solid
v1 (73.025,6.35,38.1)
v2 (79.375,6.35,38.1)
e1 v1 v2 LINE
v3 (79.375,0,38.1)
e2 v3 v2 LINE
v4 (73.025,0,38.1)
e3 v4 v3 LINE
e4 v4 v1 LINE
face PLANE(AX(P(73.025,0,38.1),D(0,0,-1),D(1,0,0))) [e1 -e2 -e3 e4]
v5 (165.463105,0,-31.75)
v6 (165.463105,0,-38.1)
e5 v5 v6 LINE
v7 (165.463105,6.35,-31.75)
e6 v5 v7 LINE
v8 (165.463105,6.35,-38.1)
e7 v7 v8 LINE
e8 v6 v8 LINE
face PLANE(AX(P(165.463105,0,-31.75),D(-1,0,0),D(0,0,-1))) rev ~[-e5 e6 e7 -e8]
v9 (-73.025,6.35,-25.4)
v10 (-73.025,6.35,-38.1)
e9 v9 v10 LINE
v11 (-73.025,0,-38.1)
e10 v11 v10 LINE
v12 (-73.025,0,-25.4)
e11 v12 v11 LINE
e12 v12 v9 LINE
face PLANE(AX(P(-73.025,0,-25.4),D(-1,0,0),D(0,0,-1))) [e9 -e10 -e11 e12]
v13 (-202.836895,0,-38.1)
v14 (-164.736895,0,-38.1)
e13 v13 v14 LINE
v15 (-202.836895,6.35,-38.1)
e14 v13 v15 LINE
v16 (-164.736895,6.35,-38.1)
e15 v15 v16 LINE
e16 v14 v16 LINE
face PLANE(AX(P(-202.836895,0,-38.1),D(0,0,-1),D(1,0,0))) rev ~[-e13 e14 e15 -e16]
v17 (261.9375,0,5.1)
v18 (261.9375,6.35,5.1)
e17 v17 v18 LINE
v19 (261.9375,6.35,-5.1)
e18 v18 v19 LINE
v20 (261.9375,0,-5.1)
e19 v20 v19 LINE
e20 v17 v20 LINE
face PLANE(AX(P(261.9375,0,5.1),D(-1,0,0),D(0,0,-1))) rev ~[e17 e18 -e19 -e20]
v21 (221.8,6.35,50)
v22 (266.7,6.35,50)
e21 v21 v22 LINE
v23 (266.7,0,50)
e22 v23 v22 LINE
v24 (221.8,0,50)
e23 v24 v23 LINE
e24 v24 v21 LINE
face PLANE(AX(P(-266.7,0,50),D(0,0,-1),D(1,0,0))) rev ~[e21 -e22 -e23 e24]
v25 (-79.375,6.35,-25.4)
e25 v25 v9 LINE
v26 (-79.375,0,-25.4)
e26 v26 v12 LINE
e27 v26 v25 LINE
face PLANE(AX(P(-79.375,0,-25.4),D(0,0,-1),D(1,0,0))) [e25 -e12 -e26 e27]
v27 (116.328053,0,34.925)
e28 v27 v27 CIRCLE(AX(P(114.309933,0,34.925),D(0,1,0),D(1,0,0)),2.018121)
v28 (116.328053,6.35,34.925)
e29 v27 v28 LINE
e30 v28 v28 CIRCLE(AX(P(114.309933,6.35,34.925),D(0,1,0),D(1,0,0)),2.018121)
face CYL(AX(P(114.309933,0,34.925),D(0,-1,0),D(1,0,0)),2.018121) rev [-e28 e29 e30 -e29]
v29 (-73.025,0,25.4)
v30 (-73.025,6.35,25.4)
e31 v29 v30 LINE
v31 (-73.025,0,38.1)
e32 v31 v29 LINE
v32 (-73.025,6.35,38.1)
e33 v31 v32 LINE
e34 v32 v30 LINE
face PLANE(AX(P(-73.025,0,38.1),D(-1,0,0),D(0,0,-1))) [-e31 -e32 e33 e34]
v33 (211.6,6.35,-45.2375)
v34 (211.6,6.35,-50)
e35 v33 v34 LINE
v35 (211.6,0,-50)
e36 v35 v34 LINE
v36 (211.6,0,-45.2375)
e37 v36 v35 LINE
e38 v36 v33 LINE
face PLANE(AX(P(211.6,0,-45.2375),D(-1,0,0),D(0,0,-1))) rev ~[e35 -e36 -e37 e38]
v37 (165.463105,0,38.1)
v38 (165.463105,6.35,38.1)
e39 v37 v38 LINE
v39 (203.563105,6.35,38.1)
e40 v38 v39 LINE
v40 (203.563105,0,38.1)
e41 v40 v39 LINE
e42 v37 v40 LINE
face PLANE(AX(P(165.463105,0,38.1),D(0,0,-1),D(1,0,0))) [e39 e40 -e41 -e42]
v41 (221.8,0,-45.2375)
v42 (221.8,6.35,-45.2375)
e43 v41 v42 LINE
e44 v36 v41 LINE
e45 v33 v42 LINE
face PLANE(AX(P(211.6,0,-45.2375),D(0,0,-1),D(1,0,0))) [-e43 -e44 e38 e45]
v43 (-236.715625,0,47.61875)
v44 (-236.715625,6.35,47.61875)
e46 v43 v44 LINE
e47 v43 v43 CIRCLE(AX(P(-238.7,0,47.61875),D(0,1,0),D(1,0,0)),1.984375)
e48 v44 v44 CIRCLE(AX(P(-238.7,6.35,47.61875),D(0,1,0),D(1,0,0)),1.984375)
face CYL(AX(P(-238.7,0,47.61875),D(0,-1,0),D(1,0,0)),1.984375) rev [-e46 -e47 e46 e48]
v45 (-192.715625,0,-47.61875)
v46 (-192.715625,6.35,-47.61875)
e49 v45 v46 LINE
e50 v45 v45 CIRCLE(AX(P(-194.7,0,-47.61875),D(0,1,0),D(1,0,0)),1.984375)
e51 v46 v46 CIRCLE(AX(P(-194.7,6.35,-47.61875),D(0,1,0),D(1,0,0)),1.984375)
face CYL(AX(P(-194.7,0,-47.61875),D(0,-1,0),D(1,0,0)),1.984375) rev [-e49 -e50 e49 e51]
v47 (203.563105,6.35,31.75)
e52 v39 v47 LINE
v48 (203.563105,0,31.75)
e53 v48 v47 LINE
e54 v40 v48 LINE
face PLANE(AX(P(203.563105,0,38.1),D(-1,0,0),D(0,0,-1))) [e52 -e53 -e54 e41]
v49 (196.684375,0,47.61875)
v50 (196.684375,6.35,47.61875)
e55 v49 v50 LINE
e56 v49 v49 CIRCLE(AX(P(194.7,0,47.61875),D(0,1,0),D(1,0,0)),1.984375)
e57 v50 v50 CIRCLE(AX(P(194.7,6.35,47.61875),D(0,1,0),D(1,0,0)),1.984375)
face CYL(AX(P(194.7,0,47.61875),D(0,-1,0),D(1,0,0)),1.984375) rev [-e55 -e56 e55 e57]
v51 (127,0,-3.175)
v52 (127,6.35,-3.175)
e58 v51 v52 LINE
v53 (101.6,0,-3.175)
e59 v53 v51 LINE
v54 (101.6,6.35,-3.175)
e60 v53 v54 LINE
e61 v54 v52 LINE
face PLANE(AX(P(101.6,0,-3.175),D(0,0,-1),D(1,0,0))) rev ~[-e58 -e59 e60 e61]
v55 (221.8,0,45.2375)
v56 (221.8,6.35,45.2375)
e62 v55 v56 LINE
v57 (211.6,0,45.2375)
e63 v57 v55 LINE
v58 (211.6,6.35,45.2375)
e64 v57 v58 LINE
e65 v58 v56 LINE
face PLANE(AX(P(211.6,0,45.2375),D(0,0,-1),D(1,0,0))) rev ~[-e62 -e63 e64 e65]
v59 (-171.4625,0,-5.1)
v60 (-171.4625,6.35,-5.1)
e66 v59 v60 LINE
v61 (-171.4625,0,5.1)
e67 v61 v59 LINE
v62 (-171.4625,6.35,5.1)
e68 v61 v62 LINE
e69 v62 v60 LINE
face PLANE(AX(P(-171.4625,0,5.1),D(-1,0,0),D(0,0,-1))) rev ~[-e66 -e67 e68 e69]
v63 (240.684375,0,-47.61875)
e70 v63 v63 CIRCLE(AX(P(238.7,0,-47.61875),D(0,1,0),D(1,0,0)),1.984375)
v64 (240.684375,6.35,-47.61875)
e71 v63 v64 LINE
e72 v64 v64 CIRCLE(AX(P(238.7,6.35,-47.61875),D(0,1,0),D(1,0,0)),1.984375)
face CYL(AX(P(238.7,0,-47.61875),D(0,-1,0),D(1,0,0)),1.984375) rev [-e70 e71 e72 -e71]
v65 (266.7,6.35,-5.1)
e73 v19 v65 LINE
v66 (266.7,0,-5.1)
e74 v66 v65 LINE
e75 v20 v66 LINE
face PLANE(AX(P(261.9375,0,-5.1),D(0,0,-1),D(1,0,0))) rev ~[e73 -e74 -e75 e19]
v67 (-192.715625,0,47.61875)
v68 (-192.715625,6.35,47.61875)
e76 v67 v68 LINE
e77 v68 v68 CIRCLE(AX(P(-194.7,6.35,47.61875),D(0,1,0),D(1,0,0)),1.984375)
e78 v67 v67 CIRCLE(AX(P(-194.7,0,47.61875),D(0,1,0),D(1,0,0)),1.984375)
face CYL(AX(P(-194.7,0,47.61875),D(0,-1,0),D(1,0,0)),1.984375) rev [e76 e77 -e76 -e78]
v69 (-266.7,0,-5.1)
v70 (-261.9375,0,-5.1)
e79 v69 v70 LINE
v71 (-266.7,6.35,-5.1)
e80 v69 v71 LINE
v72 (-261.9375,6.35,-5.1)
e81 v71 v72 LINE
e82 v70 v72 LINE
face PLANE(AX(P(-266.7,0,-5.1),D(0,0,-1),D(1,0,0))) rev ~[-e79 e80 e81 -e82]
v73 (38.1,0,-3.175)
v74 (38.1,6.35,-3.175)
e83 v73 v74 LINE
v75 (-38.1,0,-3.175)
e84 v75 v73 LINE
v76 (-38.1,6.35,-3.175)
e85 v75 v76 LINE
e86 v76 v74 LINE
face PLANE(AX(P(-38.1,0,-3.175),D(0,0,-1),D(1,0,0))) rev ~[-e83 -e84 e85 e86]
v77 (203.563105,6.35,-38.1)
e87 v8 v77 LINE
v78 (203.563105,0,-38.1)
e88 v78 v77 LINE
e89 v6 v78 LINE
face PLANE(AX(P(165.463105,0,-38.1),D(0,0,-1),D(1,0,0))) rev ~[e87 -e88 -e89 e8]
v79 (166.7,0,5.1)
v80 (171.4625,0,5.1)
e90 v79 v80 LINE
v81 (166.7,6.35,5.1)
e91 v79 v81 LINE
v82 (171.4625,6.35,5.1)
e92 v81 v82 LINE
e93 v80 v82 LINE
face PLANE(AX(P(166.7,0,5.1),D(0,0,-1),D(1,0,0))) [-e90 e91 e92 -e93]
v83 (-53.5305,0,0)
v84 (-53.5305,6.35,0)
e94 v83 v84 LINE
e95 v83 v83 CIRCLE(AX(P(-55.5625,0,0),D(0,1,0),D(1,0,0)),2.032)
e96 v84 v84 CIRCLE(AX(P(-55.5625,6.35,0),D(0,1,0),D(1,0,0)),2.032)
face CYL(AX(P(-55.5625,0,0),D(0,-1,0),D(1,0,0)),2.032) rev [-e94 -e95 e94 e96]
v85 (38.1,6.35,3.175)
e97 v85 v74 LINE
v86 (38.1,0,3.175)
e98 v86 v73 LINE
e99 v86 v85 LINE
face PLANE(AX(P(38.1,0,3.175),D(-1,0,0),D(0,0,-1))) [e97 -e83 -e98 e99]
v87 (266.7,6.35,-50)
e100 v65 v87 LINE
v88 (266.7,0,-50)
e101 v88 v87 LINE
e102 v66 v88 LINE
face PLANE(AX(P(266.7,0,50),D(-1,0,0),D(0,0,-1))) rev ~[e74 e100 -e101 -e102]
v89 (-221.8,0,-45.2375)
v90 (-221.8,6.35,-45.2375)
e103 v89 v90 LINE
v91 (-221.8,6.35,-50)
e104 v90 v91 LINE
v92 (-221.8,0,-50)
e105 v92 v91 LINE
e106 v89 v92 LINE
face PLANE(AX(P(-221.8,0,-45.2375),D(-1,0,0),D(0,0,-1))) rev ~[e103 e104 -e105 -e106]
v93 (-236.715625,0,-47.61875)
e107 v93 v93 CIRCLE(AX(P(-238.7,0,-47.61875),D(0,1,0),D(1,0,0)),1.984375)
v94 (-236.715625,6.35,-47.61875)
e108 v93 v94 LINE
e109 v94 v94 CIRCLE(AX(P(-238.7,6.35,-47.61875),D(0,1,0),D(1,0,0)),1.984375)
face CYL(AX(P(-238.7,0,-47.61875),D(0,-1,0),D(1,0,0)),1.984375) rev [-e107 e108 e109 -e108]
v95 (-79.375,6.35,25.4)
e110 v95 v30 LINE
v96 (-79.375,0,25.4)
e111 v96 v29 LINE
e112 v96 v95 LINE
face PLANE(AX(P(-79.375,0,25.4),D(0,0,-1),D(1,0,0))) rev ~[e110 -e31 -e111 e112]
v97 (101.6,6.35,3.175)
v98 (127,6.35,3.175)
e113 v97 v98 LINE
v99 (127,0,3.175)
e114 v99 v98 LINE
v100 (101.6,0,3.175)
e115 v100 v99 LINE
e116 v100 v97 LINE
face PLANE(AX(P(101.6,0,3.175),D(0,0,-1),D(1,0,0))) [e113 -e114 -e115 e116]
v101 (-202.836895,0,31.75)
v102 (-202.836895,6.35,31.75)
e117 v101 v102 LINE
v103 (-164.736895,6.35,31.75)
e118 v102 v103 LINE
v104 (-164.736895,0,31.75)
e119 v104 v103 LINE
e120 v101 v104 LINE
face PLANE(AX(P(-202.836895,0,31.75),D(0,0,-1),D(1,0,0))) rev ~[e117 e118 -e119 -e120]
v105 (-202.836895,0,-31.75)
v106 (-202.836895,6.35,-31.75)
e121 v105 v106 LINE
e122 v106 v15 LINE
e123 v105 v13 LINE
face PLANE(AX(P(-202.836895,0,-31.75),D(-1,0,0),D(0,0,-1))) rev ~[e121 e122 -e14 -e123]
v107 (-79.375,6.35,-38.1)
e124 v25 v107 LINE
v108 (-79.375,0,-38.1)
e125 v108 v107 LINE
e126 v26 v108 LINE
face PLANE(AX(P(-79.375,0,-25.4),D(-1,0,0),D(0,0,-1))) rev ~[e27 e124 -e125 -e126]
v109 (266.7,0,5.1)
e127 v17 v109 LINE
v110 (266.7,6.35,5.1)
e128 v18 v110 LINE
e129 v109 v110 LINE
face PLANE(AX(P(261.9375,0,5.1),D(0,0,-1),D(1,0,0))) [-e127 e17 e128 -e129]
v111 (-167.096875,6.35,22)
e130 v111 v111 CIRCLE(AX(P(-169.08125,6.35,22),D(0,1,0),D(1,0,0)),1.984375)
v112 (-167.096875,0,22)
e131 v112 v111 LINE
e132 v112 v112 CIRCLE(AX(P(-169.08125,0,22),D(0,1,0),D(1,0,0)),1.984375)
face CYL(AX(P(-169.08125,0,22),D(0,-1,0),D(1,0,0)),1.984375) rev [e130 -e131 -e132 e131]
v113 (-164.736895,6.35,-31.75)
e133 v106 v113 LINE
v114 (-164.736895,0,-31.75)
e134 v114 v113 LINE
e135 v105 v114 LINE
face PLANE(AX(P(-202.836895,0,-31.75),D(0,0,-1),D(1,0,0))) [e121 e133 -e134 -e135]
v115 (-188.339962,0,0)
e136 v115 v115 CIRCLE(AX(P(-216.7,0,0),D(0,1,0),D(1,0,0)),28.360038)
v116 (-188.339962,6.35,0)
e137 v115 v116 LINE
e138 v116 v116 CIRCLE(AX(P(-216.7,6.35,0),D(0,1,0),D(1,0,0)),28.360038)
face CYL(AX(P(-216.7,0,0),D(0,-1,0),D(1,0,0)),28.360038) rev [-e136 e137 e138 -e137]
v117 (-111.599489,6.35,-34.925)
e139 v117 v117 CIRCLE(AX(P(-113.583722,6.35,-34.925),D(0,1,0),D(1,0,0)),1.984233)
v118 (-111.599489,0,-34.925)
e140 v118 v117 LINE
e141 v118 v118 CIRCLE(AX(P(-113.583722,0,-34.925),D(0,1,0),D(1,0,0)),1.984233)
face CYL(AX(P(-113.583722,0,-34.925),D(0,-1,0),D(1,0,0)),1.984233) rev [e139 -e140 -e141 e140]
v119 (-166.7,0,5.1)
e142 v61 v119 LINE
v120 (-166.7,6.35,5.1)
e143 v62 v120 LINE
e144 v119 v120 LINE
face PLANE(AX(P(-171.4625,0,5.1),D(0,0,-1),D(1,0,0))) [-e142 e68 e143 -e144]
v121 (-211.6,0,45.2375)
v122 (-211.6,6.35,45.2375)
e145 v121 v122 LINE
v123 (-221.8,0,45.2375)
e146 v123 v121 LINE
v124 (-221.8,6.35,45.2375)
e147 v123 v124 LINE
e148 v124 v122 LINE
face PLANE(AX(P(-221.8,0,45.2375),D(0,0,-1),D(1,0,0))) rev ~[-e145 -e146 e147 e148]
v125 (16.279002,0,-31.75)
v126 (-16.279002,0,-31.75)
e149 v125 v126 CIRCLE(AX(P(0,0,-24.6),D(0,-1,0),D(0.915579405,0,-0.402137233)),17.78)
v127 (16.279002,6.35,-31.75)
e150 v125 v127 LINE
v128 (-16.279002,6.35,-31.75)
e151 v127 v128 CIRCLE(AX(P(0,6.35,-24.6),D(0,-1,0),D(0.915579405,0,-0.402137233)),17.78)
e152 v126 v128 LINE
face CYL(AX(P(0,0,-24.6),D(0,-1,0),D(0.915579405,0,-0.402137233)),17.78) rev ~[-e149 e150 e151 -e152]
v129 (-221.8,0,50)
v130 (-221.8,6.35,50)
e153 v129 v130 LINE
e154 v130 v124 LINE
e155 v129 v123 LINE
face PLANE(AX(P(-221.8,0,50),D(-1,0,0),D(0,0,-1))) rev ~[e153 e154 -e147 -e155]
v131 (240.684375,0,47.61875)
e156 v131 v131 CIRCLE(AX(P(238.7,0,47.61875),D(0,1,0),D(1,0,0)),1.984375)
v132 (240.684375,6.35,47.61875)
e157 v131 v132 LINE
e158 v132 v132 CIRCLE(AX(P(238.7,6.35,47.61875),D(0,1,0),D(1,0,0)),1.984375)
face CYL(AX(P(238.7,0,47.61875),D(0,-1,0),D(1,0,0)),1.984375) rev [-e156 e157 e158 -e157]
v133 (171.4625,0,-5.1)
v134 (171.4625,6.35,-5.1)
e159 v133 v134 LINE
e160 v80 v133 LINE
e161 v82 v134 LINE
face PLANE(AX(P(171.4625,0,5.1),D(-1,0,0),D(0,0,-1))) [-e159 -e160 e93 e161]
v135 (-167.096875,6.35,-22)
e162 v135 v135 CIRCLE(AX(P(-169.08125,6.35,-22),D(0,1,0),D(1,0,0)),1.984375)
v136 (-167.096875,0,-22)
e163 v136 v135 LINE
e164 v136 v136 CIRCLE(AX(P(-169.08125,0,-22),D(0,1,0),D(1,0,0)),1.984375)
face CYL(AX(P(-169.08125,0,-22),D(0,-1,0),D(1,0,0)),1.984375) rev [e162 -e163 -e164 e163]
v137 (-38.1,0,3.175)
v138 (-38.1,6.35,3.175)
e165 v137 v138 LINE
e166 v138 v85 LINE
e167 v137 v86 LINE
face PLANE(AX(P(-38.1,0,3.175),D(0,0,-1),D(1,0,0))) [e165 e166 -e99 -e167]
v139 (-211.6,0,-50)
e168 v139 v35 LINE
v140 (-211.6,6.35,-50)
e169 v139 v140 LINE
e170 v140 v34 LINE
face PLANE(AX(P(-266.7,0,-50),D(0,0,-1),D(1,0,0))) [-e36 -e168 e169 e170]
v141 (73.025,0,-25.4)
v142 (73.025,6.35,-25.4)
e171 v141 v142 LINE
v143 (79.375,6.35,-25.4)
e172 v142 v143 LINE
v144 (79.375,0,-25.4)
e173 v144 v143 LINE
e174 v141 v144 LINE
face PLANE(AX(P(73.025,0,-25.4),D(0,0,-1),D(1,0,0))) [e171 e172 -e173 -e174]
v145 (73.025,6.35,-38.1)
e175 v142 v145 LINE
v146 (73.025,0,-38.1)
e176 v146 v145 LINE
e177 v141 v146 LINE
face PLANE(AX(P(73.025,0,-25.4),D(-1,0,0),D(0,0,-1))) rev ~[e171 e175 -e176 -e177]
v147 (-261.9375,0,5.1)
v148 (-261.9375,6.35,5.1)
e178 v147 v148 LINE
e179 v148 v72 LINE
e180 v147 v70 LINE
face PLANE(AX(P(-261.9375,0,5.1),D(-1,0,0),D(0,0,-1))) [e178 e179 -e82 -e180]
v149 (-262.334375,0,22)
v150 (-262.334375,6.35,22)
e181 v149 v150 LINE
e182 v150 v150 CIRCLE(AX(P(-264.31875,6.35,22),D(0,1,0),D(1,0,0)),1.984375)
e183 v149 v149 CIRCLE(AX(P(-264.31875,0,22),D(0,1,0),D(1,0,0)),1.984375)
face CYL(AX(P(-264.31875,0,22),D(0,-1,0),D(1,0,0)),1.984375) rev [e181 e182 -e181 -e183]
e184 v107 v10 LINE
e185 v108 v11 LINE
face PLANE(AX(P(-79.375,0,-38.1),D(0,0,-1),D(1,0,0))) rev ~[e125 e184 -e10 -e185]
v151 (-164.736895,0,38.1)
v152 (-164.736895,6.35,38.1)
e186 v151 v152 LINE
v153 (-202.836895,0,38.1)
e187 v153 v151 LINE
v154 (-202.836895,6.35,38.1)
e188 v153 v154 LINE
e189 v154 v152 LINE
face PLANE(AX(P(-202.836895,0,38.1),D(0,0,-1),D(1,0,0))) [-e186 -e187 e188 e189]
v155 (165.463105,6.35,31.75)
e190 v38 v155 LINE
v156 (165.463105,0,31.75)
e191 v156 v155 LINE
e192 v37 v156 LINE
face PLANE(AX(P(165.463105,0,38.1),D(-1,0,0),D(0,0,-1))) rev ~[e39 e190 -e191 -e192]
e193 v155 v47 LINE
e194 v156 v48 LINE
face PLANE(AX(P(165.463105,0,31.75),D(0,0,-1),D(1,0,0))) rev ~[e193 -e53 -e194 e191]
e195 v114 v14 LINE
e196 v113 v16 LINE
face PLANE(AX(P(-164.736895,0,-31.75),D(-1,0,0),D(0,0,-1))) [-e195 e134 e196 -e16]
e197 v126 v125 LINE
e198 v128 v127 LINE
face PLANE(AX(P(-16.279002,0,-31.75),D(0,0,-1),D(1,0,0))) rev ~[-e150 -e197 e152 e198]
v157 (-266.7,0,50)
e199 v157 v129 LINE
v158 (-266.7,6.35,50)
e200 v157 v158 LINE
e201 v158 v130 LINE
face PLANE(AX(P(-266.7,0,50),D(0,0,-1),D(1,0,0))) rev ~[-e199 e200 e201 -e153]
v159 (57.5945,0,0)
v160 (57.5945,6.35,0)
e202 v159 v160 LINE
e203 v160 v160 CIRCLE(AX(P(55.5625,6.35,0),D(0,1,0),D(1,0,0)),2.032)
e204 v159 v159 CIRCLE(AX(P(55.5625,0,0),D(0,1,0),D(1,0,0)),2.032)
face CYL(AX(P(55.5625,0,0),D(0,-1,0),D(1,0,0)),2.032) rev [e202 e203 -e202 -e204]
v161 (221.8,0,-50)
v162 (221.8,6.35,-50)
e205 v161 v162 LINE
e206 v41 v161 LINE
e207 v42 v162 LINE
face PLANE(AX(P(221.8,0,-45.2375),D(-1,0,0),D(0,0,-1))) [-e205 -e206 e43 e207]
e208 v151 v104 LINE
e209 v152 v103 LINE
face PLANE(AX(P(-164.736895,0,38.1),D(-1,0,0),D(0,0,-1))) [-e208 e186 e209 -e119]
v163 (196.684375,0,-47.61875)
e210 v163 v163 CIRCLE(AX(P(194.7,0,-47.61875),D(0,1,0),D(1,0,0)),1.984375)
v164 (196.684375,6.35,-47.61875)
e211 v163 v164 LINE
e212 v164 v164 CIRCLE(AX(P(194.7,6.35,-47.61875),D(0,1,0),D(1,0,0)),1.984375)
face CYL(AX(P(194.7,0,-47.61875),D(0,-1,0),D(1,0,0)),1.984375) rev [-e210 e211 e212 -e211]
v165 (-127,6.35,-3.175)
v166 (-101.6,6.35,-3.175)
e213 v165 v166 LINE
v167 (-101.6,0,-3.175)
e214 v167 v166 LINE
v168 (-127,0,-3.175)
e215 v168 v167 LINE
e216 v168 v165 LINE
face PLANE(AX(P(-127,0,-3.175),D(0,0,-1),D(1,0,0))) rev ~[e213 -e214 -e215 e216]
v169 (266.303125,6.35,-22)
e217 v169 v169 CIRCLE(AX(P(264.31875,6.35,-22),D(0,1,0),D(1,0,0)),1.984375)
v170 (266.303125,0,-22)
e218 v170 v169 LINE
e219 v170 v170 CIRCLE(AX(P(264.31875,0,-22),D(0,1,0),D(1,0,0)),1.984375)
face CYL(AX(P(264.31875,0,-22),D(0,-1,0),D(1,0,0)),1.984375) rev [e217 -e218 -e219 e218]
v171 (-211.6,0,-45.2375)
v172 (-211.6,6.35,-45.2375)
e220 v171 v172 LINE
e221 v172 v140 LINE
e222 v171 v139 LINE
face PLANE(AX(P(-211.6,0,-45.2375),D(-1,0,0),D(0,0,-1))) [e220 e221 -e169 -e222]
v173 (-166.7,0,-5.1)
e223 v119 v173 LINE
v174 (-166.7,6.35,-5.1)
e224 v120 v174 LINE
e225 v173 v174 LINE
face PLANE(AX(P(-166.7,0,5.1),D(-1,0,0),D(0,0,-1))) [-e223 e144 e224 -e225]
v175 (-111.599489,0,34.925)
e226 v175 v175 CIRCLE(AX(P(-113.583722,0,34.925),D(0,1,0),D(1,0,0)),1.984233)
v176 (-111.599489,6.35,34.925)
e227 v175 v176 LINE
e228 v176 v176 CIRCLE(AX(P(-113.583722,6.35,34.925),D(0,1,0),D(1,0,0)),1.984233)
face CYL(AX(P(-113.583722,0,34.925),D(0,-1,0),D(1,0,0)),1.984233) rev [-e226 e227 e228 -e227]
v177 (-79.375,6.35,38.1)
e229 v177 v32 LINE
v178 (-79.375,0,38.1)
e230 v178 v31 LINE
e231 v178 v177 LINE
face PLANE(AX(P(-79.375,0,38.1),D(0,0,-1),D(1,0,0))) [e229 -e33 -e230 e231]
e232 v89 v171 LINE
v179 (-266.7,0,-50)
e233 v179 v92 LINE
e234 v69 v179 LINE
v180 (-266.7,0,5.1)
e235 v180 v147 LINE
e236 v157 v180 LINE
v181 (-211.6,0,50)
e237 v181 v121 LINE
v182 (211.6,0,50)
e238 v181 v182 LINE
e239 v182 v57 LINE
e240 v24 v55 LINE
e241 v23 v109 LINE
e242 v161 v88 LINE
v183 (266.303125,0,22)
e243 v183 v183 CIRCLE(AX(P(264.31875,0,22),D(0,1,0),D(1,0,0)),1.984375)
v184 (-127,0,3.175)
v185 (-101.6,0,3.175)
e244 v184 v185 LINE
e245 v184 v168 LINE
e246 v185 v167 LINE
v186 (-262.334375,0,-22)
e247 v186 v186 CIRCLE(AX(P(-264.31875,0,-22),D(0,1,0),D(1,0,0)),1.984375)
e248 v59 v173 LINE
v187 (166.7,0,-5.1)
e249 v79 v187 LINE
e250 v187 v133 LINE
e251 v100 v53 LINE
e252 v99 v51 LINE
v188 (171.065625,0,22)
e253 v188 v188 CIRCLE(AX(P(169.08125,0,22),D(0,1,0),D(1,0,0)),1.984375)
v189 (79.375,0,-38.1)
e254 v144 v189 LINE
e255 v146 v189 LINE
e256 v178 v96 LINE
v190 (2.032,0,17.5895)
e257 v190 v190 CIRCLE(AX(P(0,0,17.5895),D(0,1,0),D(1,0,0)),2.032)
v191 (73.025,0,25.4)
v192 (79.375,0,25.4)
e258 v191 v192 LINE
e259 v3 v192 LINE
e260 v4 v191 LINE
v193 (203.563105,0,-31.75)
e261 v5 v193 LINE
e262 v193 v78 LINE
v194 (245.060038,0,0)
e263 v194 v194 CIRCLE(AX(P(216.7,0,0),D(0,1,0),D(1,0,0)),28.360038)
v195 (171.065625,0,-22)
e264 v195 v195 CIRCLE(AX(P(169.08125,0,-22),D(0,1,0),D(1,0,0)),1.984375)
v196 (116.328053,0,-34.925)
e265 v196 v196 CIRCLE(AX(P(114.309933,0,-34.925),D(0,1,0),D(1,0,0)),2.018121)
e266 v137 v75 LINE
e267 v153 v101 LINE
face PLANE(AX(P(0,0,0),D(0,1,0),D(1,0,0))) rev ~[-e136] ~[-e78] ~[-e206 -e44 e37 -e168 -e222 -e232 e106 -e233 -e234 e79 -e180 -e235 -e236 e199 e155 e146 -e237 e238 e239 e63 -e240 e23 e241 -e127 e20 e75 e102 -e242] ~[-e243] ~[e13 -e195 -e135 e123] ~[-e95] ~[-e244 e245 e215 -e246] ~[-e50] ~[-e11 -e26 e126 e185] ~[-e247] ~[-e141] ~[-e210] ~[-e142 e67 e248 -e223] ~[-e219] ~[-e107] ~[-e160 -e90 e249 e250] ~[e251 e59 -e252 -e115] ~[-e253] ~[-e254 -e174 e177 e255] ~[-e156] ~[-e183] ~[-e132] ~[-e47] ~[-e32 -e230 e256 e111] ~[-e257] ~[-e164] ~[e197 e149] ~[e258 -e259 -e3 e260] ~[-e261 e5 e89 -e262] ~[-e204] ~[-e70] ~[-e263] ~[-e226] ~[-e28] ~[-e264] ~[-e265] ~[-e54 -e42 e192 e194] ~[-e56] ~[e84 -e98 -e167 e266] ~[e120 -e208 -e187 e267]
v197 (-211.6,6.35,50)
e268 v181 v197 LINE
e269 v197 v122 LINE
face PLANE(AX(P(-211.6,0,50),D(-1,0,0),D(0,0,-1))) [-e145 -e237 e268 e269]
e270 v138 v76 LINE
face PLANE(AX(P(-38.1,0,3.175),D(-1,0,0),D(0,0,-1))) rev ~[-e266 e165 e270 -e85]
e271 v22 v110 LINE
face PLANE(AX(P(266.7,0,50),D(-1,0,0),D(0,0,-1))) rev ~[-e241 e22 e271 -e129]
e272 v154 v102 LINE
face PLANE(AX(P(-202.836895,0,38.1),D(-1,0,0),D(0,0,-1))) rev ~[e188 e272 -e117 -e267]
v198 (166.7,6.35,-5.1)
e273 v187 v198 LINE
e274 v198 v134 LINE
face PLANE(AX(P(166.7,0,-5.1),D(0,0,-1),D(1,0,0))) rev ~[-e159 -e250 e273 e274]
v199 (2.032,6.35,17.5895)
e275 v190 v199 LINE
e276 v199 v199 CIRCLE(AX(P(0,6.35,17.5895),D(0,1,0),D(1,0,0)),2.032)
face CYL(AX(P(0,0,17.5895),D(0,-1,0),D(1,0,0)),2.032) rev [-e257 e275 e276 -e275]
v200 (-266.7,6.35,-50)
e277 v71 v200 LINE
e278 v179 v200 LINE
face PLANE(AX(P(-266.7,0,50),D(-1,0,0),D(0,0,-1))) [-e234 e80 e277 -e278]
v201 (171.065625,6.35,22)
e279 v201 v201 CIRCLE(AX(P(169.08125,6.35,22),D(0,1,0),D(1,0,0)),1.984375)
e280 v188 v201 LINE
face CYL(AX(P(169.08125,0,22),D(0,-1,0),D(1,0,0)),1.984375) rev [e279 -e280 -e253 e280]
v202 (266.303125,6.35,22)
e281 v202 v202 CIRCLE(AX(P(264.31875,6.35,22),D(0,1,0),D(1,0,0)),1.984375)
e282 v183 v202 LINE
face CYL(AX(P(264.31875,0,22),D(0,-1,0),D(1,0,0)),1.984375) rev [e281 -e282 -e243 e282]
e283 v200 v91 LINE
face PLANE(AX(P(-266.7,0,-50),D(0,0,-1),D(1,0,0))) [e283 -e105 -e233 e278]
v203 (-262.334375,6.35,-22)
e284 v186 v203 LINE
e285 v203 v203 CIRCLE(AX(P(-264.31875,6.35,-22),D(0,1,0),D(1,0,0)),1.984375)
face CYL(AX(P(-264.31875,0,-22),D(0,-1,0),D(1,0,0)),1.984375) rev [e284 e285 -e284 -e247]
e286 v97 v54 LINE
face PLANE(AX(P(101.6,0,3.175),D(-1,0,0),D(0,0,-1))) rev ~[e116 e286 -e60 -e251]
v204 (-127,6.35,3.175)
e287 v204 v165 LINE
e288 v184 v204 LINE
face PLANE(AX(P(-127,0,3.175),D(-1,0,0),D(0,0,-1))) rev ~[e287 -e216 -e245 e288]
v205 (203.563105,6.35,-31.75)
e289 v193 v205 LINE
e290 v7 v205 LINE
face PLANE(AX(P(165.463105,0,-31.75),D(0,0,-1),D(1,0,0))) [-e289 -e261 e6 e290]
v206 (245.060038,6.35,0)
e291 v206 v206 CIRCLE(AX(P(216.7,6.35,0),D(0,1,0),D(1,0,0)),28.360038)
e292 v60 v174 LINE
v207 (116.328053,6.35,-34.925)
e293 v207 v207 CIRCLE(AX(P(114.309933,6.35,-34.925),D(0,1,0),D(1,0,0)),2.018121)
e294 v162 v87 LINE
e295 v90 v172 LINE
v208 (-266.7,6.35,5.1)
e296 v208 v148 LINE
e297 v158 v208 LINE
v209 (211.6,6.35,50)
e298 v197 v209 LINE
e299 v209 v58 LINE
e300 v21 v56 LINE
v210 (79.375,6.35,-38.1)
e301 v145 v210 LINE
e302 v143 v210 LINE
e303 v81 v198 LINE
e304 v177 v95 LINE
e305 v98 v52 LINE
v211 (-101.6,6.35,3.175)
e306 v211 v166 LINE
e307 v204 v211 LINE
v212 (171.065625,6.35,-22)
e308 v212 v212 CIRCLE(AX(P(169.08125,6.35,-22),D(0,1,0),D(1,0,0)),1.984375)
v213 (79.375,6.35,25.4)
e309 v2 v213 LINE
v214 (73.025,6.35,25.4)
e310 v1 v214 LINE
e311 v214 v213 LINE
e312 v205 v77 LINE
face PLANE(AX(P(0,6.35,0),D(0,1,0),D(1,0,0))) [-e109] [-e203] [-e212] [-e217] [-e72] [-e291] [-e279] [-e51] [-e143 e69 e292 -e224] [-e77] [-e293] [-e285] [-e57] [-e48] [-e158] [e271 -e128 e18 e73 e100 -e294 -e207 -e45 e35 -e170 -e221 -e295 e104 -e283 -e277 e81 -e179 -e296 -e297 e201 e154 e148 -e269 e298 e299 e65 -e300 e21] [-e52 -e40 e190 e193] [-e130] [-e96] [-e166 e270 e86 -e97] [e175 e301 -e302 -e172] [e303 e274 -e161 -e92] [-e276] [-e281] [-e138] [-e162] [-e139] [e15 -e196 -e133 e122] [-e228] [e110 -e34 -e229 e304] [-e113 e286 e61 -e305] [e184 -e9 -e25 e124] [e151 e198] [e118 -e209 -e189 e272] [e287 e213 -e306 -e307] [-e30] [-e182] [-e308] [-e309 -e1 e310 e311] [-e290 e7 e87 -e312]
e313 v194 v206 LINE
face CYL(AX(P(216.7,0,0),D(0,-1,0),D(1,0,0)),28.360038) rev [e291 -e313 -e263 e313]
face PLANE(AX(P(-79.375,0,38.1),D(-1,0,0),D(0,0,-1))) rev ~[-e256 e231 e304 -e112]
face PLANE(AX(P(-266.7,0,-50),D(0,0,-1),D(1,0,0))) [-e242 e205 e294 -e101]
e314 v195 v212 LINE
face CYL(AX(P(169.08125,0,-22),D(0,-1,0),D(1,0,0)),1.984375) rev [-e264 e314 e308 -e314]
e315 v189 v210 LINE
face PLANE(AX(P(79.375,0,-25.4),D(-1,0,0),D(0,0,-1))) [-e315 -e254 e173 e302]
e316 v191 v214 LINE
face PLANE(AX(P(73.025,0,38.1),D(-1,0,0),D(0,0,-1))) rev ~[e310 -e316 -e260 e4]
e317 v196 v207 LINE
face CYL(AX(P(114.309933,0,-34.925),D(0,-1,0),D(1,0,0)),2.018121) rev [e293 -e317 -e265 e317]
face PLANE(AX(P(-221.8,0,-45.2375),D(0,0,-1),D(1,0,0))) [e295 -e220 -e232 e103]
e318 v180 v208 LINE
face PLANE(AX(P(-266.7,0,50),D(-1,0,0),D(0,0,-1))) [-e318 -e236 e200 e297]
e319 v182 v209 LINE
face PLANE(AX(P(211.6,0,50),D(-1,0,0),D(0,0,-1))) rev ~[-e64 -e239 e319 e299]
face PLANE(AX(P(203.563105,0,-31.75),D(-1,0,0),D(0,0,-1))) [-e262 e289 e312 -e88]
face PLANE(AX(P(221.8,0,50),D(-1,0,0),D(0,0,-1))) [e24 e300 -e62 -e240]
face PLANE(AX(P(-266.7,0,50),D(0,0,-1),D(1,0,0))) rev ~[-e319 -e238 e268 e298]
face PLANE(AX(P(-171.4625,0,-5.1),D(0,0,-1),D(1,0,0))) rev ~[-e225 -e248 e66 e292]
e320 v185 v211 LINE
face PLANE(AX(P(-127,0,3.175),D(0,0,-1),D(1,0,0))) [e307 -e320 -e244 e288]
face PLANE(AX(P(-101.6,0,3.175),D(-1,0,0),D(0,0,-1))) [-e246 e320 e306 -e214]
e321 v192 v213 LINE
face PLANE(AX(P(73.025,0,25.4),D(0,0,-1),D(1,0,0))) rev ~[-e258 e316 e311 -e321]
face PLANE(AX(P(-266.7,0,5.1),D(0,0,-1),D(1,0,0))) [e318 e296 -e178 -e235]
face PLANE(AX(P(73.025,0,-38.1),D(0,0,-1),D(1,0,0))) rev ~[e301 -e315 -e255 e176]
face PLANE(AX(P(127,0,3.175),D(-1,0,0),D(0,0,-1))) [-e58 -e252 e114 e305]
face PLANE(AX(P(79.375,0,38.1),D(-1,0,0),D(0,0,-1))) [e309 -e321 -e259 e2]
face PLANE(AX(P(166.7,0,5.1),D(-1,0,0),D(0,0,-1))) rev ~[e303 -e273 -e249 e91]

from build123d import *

# Parameters (mm, degrees)
SKETCH1_W           = 533.4
SKETCH1_H           = 100
SKETCH1_R           = 1.9842329
SKETCH1_R_2         = 2.018120645
SKETCH1_R_3         = 2.032
SKETCH1_W_2         = 76.2
SKETCH1_H_2         = 6.35
SKETCH1_W_3         = 25.4
SKETCH1_W_4         = 6.35
SKETCH1_H_3         = 12.7
SKETCH1_W_5         = 38.1
BOSS_EXTRUDE1_DEPTH = 6.35
SKETCH2_R           = 1.984375
SKETCH2_R_2         = 28.360038464
SKETCH2_W           = 4.7625
SKETCH2_H           = 10.2
SKETCH2_W_2         = 10.2
SKETCH2_H_2         = 4.7625
CUT_EXTRUDE2_DEPTH  = 6.35


with BuildPart() as part:
    # Sketch1 → Boss-Extrude1 (new body)
    with BuildSketch(Plane(origin=(0, 0, 0), x_dir=(1, 0, 0), z_dir=(0, 1, 0))):
        Rectangle(SKETCH1_W, SKETCH1_H)
        with Locations((-113.583722144, -34.925)):
            Circle(SKETCH1_R, mode=Mode.SUBTRACT)
        with Locations((114.309932521, 34.925)):
            Circle(SKETCH1_R_2, mode=Mode.SUBTRACT)
        with Locations((114.309932521, -34.925)):
            Circle(SKETCH1_R_2, mode=Mode.SUBTRACT)
        with Locations((-113.583722144, 34.925)):
            Circle(SKETCH1_R, mode=Mode.SUBTRACT)
        with Locations((-55.5625, 0)):
            Circle(SKETCH1_R_3, mode=Mode.SUBTRACT)
        with Locations((55.5625, 0)):
            Circle(SKETCH1_R_3, mode=Mode.SUBTRACT)
        with Locations((0, -17.5895)):
            Circle(SKETCH1_R_3, mode=Mode.SUBTRACT)
        Rectangle(SKETCH1_W_2, SKETCH1_H_2, mode=Mode.SUBTRACT)
        with Locations((114.3, 0)):
            Rectangle(SKETCH1_W_3, SKETCH1_H_2, mode=Mode.SUBTRACT)
        with Locations((-114.3, 0)):
            Rectangle(SKETCH1_W_3, SKETCH1_H_2, mode=Mode.SUBTRACT)
        with Locations((76.2, -31.75)):
            Rectangle(SKETCH1_W_4, SKETCH1_H_3, mode=Mode.SUBTRACT)
        with Locations((-76.2, -31.75)):
            Rectangle(SKETCH1_W_4, SKETCH1_H_3, mode=Mode.SUBTRACT)
        with Locations((76.2, 31.75)):
            Rectangle(SKETCH1_W_4, SKETCH1_H_3, mode=Mode.SUBTRACT)
        with Locations((-76.2, 31.75)):
            Rectangle(SKETCH1_W_4, SKETCH1_H_3, mode=Mode.SUBTRACT)
        with Locations((184.513105188, -34.925)):
            Rectangle(SKETCH1_W_5, SKETCH1_H_2, mode=Mode.SUBTRACT)
        with Locations((-183.786894812, 34.925)):
            Rectangle(SKETCH1_W_5, SKETCH1_H_2, mode=Mode.SUBTRACT)
        with Locations((184.513105188, 34.925)):
            Rectangle(SKETCH1_W_5, SKETCH1_H_2, mode=Mode.SUBTRACT)
        with Locations((-183.786894812, -34.925)):
            Rectangle(SKETCH1_W_5, SKETCH1_H_2, mode=Mode.SUBTRACT)
        with BuildLine():
            Line((-16.279001812, 31.75), (16.279001812, 31.75))
            ThreePointArc((16.279001812, 31.75), (0, 6.82), (-16.279001812, 31.75))
        make_face(mode=Mode.SUBTRACT)
    extrude(amount=BOSS_EXTRUDE1_DEPTH)

    # Sketch2 → Cut-Extrude2 (cut)
    with BuildSketch(Plane(origin=(0, 0, 0), x_dir=(1, 0, 0), z_dir=(0, 1, 0))):
        with Locations((-169.08125, 22)):
            Circle(SKETCH2_R)
        with Locations((-169.08125, -22)):
            Circle(SKETCH2_R)
        with Locations((-194.7, -47.61875)):
            Circle(SKETCH2_R)
        with Locations((-238.7, -47.61875)):
            Circle(SKETCH2_R)
        with Locations((-264.31875, -22)):
            Circle(SKETCH2_R)
        with Locations((-264.31875, 22)):
            Circle(SKETCH2_R)
        with Locations((-194.7, 47.61875)):
            Circle(SKETCH2_R)
        with Locations((-238.7, 47.61875)):
            Circle(SKETCH2_R)
        with Locations((-216.7, 0)):
            Circle(SKETCH2_R_2)
        with Locations((216.7, 0)):
            Circle(SKETCH2_R_2)
        with Locations((238.7, 47.61875)):
            Circle(SKETCH2_R)
        with Locations((194.7, 47.61875)):
            Circle(SKETCH2_R)
        with Locations((264.31875, 22)):
            Circle(SKETCH2_R)
        with Locations((264.31875, -22)):
            Circle(SKETCH2_R)
        with Locations((238.7, -47.61875)):
            Circle(SKETCH2_R)
        with Locations((194.7, -47.61875)):
            Circle(SKETCH2_R)
        with Locations((169.08125, -22)):
            Circle(SKETCH2_R)
        with Locations((169.08125, 22)):
            Circle(SKETCH2_R)
        with Locations((-169.08125, 0)):
            Rectangle(SKETCH2_W, SKETCH2_H)
        with Locations((-264.31875, 0)):
            Rectangle(SKETCH2_W, SKETCH2_H)
        with Locations((-216.7, 47.61875)):
            Rectangle(SKETCH2_W_2, SKETCH2_H_2)
        with Locations((-216.7, -47.61875)):
            Rectangle(SKETCH2_W_2, SKETCH2_H_2)
        with Locations((216.7, -47.61875)):
            Rectangle(SKETCH2_W_2, SKETCH2_H_2)
        with Locations((216.7, 47.61875)):
            Rectangle(SKETCH2_W_2, SKETCH2_H_2)
        with Locations((264.31875, 0)):
            Rectangle(SKETCH2_W, SKETCH2_H)
        with Locations((169.08125, 0)):
            Rectangle(SKETCH2_W, SKETCH2_H)
    extrude(amount=CUT_EXTRUDE2_DEPTH, mode=Mode.SUBTRACT)


solid = part.part
